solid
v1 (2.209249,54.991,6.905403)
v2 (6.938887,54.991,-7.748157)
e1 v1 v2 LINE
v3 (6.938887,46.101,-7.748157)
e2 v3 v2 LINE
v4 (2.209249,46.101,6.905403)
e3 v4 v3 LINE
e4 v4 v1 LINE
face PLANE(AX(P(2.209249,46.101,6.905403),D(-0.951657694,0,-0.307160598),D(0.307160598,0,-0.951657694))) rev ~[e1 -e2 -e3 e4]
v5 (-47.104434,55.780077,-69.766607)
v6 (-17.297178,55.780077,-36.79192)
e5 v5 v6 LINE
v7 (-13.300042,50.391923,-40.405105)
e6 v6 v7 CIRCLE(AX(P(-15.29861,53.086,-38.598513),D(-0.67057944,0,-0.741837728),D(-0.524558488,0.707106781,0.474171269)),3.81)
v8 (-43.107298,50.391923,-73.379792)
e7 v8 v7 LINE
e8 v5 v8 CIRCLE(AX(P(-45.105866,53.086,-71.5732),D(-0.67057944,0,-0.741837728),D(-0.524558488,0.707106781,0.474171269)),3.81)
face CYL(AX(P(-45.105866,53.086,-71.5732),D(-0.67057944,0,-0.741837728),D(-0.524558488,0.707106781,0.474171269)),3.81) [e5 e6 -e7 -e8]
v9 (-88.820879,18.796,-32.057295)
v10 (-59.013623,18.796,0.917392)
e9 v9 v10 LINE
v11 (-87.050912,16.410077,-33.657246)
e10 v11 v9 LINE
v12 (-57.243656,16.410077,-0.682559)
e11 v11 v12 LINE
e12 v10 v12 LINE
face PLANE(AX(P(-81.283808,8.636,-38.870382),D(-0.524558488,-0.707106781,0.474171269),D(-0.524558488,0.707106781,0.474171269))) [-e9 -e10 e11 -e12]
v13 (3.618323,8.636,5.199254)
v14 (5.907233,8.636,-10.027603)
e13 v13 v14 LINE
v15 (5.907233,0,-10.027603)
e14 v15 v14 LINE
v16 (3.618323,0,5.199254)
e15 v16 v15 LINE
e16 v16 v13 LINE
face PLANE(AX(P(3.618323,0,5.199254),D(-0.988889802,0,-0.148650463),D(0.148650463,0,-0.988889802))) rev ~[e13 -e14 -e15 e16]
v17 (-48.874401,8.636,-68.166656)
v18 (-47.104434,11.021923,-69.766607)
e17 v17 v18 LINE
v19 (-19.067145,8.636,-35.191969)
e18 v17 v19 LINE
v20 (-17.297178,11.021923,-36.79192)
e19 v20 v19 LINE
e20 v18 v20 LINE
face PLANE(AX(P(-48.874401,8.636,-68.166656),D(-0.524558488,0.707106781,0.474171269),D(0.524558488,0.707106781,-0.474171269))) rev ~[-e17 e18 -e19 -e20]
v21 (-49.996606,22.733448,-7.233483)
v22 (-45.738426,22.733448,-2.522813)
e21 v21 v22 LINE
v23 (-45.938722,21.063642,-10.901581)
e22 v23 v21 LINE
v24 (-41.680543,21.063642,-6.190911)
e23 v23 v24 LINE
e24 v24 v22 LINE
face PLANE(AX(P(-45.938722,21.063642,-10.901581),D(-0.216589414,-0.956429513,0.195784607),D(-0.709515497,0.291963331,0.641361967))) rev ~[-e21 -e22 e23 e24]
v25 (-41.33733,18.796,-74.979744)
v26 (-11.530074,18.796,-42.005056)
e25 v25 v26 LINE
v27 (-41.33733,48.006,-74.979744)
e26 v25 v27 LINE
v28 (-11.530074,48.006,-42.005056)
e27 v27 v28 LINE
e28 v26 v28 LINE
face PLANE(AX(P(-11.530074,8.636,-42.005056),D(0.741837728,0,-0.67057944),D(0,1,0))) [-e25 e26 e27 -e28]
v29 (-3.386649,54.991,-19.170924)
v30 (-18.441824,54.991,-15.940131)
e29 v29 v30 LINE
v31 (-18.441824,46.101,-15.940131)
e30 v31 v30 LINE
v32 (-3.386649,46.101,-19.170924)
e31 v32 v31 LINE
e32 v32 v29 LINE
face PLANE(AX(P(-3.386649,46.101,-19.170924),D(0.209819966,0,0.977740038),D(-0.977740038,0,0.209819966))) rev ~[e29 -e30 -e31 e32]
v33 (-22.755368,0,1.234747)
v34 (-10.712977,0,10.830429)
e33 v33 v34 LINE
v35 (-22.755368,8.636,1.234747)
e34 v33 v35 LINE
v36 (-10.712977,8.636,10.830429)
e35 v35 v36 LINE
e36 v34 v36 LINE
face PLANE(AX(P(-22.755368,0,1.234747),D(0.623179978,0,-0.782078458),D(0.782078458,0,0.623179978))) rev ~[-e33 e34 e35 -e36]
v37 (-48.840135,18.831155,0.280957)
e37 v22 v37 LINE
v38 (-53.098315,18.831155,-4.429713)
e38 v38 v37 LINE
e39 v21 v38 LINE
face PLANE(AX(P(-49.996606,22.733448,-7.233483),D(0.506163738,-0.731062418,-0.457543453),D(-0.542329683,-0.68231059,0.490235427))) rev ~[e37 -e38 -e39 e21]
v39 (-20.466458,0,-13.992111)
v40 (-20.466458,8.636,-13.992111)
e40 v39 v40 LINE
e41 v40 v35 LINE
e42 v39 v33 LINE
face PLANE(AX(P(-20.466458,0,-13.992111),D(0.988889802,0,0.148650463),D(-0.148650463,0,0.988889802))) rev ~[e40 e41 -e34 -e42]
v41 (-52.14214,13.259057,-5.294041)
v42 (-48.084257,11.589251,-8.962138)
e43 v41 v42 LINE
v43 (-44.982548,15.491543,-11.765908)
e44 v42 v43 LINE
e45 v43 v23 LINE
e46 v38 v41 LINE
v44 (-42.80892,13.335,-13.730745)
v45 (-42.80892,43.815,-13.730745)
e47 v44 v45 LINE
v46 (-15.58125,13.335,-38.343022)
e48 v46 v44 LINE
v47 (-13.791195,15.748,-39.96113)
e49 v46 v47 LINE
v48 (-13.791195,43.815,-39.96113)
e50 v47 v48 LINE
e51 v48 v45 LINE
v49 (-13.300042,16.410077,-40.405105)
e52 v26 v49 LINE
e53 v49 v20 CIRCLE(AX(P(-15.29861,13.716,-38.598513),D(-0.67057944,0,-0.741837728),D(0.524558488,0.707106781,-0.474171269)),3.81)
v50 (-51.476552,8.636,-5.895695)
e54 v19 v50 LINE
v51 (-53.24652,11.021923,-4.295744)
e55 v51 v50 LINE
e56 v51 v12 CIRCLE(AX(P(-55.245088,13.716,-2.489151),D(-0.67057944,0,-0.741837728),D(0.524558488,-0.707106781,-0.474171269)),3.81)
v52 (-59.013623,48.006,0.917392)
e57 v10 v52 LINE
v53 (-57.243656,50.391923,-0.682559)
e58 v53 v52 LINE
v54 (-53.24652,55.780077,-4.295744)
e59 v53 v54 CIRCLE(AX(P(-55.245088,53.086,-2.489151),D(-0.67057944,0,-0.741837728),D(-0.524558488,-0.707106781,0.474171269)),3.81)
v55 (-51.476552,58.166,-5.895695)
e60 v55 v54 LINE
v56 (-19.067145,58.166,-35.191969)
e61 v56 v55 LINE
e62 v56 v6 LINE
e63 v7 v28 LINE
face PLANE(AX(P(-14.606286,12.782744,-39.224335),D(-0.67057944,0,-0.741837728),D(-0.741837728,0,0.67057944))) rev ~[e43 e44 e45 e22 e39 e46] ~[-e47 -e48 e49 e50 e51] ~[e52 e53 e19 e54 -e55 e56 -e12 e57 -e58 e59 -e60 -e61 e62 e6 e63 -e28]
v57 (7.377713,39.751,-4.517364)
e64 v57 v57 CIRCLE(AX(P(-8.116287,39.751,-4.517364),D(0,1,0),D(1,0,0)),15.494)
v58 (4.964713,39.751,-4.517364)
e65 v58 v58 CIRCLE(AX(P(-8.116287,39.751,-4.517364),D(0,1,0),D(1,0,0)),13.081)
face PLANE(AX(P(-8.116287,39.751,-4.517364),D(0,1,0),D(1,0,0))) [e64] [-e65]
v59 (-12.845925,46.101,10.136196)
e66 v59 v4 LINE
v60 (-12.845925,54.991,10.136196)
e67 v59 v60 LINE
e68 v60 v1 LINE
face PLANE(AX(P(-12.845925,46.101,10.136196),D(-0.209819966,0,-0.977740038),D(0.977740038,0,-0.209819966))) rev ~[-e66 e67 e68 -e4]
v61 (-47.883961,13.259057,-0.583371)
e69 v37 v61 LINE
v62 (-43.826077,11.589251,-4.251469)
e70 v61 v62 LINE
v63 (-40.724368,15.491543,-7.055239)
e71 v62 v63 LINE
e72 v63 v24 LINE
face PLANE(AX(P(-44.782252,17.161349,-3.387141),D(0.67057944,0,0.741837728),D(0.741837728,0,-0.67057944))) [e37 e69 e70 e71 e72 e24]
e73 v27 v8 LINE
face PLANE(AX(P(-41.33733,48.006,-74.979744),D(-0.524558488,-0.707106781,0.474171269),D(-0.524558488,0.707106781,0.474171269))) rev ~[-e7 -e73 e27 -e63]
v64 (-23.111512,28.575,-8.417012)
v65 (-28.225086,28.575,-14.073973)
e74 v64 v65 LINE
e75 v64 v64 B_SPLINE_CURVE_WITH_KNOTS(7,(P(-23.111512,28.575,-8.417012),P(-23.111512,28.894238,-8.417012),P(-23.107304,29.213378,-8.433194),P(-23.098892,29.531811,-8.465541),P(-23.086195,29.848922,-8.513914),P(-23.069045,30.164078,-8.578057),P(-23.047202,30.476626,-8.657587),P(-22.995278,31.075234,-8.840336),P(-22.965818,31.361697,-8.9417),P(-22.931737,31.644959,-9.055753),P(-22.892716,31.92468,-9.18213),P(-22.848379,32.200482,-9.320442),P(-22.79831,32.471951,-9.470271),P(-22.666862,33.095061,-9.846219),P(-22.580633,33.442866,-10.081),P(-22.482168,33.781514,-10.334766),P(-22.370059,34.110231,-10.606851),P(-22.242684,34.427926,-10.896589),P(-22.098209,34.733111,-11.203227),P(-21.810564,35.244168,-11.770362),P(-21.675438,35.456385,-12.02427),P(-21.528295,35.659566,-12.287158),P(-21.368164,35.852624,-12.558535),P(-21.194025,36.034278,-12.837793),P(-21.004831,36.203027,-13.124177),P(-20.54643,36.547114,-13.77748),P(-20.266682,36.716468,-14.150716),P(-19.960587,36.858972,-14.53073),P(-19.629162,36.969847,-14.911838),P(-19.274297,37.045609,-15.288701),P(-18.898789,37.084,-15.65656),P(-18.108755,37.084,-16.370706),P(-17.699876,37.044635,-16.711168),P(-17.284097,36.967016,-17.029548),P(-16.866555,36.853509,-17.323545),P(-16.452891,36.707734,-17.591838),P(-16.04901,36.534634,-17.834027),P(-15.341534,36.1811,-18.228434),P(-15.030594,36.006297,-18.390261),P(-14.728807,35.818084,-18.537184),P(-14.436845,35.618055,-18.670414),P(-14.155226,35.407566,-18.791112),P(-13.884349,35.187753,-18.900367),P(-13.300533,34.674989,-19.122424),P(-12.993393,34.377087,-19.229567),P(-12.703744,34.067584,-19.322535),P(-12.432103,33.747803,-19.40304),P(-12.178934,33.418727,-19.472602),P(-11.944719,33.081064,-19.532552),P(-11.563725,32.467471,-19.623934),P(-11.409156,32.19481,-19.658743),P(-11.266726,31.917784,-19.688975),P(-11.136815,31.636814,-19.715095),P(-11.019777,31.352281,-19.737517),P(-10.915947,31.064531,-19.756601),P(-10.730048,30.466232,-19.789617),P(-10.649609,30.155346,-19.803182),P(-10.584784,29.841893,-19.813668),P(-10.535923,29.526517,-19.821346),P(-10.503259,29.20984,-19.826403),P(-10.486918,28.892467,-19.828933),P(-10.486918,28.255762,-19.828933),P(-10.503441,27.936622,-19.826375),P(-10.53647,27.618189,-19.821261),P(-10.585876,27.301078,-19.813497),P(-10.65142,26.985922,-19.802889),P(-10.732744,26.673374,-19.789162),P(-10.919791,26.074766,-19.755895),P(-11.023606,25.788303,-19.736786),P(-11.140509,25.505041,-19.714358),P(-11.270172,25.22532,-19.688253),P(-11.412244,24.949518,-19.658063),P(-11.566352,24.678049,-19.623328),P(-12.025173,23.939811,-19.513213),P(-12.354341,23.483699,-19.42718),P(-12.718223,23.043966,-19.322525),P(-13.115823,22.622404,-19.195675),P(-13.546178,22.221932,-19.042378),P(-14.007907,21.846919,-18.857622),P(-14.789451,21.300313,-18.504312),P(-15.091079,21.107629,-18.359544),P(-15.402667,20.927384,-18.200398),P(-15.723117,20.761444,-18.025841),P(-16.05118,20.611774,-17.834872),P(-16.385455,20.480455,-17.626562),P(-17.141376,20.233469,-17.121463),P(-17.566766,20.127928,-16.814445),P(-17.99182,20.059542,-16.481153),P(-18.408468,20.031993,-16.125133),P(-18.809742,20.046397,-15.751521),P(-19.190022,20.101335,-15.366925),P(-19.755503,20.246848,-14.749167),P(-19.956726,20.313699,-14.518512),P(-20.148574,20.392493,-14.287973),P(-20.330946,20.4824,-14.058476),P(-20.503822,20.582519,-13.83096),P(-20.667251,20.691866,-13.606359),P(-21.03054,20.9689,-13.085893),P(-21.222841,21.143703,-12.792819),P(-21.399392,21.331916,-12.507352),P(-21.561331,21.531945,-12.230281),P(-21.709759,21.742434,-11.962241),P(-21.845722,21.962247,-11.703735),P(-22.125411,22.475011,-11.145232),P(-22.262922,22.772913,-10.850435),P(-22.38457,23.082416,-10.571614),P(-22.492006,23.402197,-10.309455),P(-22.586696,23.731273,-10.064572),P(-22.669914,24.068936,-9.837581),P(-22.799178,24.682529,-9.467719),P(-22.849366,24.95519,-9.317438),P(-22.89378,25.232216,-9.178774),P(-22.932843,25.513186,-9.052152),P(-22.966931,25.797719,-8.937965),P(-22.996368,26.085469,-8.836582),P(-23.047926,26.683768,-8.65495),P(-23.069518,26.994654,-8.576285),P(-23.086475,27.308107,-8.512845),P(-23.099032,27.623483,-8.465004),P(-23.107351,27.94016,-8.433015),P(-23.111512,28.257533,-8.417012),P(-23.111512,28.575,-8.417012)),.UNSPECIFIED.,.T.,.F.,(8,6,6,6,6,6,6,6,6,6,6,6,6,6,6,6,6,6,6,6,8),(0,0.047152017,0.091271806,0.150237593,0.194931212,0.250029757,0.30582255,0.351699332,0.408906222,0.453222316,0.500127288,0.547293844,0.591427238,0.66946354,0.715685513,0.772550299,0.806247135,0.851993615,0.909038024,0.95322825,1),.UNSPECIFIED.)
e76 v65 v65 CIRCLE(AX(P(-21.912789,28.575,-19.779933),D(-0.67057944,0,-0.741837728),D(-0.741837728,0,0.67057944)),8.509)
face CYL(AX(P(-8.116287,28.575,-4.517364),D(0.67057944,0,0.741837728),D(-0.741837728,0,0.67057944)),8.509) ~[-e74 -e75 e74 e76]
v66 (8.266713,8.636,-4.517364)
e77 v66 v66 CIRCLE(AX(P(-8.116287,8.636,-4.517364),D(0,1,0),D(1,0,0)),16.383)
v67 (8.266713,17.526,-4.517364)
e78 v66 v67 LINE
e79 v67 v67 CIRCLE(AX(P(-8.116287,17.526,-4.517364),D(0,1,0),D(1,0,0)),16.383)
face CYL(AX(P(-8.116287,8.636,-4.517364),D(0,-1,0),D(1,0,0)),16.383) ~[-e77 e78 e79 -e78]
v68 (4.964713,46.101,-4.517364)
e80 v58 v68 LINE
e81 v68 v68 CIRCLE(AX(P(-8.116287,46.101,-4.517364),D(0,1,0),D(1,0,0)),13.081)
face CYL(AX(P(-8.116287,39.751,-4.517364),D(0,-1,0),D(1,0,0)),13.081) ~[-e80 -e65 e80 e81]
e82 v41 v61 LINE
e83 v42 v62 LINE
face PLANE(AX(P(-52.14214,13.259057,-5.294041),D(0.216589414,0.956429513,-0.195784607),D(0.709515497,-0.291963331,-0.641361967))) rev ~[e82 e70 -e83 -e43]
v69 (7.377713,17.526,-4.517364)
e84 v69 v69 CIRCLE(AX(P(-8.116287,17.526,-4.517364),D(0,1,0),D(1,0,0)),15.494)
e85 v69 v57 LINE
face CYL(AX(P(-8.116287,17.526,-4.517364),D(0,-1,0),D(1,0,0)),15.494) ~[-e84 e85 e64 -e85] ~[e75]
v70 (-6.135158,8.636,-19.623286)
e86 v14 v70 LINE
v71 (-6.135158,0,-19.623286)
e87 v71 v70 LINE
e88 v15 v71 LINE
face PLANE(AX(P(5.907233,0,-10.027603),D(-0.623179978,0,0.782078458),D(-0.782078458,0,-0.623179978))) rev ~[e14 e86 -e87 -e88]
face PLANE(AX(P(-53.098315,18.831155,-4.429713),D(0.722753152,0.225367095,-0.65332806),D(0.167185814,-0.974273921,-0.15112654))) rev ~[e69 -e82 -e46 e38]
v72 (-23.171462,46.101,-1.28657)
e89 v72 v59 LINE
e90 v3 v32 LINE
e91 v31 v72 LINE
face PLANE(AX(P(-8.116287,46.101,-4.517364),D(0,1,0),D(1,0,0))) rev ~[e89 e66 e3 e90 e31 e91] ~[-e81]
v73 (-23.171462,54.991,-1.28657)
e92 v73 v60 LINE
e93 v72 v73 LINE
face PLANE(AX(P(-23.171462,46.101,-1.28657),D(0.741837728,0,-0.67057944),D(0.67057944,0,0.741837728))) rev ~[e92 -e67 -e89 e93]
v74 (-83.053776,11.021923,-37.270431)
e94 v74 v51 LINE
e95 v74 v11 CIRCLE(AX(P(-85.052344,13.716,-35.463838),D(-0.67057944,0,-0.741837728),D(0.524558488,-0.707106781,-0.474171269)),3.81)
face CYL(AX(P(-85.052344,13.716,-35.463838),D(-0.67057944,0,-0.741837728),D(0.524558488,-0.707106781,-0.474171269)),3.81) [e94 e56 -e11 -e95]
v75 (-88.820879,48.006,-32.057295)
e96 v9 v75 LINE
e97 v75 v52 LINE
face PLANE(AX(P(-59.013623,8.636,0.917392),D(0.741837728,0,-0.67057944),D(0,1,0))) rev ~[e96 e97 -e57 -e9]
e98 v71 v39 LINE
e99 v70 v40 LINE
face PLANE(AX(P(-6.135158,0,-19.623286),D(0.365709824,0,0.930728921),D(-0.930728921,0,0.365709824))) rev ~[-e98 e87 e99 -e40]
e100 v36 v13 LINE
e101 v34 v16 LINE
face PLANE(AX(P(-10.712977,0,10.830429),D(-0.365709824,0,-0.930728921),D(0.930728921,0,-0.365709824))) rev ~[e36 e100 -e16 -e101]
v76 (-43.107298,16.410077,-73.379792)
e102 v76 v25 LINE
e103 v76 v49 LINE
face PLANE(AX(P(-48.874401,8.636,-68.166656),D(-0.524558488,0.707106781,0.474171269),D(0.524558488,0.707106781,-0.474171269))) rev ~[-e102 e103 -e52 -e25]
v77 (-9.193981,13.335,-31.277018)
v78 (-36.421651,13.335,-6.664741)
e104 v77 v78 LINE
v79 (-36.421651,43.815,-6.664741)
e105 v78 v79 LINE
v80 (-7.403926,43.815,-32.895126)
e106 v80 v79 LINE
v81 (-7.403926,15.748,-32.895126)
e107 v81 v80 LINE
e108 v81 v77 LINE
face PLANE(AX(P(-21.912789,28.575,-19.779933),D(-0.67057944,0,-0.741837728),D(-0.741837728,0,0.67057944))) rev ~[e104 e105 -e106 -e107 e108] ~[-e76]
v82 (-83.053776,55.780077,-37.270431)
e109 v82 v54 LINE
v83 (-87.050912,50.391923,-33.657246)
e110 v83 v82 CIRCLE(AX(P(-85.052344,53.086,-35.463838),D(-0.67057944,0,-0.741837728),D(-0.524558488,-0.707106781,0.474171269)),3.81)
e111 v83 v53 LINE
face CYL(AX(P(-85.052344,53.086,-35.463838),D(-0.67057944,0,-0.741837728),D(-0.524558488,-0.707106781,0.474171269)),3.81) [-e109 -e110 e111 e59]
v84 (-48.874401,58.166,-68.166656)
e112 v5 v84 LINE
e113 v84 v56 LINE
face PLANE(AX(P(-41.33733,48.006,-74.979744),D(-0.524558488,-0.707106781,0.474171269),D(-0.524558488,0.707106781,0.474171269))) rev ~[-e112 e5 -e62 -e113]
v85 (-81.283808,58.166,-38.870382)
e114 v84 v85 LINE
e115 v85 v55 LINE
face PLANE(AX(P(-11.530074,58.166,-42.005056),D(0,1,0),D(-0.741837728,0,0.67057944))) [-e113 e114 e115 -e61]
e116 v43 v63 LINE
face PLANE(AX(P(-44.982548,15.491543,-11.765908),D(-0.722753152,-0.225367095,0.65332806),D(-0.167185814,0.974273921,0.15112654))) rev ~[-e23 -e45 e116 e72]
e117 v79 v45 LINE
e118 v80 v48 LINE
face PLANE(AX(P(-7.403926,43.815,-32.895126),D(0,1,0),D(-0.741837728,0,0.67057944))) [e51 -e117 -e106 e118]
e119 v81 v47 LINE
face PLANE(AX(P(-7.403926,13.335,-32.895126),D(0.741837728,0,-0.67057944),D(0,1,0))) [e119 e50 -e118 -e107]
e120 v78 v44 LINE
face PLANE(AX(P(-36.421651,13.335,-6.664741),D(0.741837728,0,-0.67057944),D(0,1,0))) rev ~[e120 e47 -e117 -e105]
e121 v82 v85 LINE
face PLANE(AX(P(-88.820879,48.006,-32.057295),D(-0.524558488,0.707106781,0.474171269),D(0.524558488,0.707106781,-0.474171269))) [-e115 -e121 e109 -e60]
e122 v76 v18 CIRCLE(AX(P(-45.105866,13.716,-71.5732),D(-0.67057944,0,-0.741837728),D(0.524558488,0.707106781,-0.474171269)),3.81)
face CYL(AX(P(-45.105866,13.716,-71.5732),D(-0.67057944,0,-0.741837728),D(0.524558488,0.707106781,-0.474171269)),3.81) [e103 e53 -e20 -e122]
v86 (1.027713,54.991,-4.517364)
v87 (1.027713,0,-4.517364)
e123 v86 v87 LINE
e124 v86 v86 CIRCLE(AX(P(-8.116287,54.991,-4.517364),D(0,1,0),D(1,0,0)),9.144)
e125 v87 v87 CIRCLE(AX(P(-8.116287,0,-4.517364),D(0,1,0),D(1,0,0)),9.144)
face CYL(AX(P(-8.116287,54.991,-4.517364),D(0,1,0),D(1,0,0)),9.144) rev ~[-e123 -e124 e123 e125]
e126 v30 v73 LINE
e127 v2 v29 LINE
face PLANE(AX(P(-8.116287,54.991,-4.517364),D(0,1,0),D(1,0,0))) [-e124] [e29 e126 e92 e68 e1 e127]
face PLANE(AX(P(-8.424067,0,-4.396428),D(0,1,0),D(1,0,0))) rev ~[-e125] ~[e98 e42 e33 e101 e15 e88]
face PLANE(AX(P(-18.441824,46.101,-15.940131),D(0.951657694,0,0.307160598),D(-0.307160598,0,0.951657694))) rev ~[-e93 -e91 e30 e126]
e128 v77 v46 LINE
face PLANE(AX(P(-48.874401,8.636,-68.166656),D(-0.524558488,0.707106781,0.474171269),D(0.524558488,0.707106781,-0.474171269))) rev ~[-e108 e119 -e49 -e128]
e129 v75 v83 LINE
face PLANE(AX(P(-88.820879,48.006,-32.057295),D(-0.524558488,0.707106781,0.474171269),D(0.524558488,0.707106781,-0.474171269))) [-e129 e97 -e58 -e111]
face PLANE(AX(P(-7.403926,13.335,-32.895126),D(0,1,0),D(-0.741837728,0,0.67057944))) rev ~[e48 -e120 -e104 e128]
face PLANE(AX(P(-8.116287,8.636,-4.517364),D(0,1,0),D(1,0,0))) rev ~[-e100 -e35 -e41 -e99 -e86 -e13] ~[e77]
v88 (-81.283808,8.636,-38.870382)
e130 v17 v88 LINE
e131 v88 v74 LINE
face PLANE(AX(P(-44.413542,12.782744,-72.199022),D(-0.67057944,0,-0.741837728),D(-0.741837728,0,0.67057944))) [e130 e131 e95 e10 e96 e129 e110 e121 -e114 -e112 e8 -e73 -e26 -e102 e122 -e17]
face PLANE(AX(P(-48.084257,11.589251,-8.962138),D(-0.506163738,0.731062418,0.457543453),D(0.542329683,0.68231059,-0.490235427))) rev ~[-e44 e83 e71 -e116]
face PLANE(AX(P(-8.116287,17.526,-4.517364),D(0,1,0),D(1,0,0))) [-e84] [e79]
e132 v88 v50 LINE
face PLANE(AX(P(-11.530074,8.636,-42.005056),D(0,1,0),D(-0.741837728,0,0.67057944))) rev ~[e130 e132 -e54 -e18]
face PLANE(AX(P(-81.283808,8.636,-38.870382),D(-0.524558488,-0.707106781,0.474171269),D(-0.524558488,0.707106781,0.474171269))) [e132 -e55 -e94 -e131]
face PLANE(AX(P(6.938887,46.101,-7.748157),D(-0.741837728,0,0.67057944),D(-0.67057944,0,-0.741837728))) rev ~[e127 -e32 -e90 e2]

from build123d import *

# Parameters (mm, degrees)
BOSS_EXTRUDE1_DEPTH  = 8.636
SKETCH2_R            = 16.383
BOSS_EXTRUDE2_DEPTH  = 8.89
SKETCH5_R            = 15.494
BOSS_EXTRUDE3_DEPTH  = 22.225
SKETCH6_R            = 13.081
BOSS_EXTRUDE4_DEPTH  = 6.35
BOSS_EXTRUDE5_DEPTH  = 8.89
SKETCH19_R           = 8.509
BOSS_EXTRUDE9_DEPTH  = 20.574
SKETCH26_R           = 9.144
CUT_EXTRUDE1_DEPTH   = 55.991
SKETCH28_W           = 39.116
SKETCH28_H           = 30.48
BOSS_EXTRUDE11_DEPTH = 9.525
SKETCH29_W           = 64.008
SKETCH29_H           = 49.53
BOSS_EXTRUDE12_DEPTH = 44.45
BOSS_EXTRUDE13_DEPTH = 6.35
CUT_EXTRUDE2_REACH   = 99.689
BOSS_EXTRUDE14_DEPTH = 44.45


with BuildPart() as part:
    # Sketch1 → Boss-Extrude1 (new body)
    with BuildSketch(Plane(origin=(0, 0, 0), x_dir=(1, 0, 0), z_dir=(0, 1, 0))):
        Polygon((3.618323339, -5.199254385), (5.90723301, 10.02760322), (-6.13515766, 19.623285945), (-20.466458001, 13.992111064), (-22.755367672, -1.234746541), (-10.712977002, -10.830429265), align=None)
    extrude(amount=BOSS_EXTRUDE1_DEPTH)

    # Sketch2 → Boss-Extrude2 (add)
    with BuildSketch(Plane(origin=(0, 8.636, 0), x_dir=(1, 0, 0), z_dir=(0, 1, 0))):
        with Locations((-8.116287221, 4.517363885)):
            Circle(SKETCH2_R)
    extrude(amount=BOSS_EXTRUDE2_DEPTH)

    # Sketch5 → Boss-Extrude3 (add)
    with BuildSketch(Plane(origin=(0, 17.526, 0), x_dir=(1, 0, 0), z_dir=(0, 1, 0))):
        with Locations((-8.116287221, 4.517363885)):
            Circle(SKETCH5_R)
    extrude(amount=BOSS_EXTRUDE3_DEPTH)

    # Sketch6 → Boss-Extrude4 (add)
    with BuildSketch(Plane(origin=(0, 39.751, 0), x_dir=(1, 0, 0), z_dir=(0, 1, 0))):
        with Locations((-8.116287221, 4.517363885)):
            Circle(SKETCH6_R)
    extrude(amount=BOSS_EXTRUDE4_DEPTH)

    # Sketch8 → Boss-Extrude5 (add)
    with BuildSketch(Plane(origin=(0, 46.101, 0), x_dir=(1, 0, 0), z_dir=(0, 1, 0))):
        Polygon((-18.441823617, 15.940130543), (-23.171461527, 1.286570387), (-12.845925131, -10.136196271), (2.209249175, -6.905402773), (6.938887085, 7.748157383), (-3.386649312, 19.170924041), align=None)
    extrude(amount=BOSS_EXTRUDE5_DEPTH)

    # Sketch19 → Boss-Extrude9 (add)
    with BuildSketch(Plane(origin=(-5.896918877, 0, -6.523547615), x_dir=(-0.741837728, 0, 0.67057944), z_dir=(-0.67057944, 0, -0.741837728))):
        with Locations((2.991716732, 28.575)):
            Circle(SKETCH19_R)
    extrude(amount=BOSS_EXTRUDE9_DEPTH)

    # Sketch26 → Cut-Extrude1 (cut, through all)
    with BuildSketch(Plane(origin=(0, 54.991, 0), x_dir=(1, 0, 0), z_dir=(0, 1, 0))):
        with Locations((-8.116287221, 4.517363885)):
            Circle(SKETCH26_R)
    extrude(amount=-CUT_EXTRUDE1_DEPTH, mode=Mode.SUBTRACT)

    # Sketch28 → Boss-Extrude11 (add)
    with BuildSketch(Plane(origin=(-19.693420267, 0, -21.786117038), x_dir=(-0.741837728, 0, 0.67057944), z_dir=(-0.67057944, 0, -0.741837728))):
        with Locations((2.991716732, 28.575)):
            Rectangle(SKETCH28_W, SKETCH28_H)
    extrude(amount=BOSS_EXTRUDE11_DEPTH)

    # Sketch29 → Boss-Extrude12 (add)
    with BuildSketch(Plane(origin=(-26.080689429, 0, -28.852121401), x_dir=(-0.741837728, 0, 0.67057944), z_dir=(-0.67057944, 0, -0.741837728))):
        with Locations((12.389716732, 33.401)):
            Rectangle(SKETCH29_W, SKETCH29_H)
    extrude(amount=BOSS_EXTRUDE12_DEPTH)

    # Sketch31 → Boss-Extrude13 (add)
    with BuildSketch(Plane(origin=(-26.080689429, 0, -28.852121401), x_dir=(0.741837728, 0, -0.67057944), z_dir=(0.67057944, 0, 0.741837728))):
        Polygon((-29.660890196, 11.58925085), (-25.479774792, 15.49154325), (-26.768701441, 21.063641607), (-32.238743495, 22.733447563), (-36.419858899, 18.831155162), (-35.130932249, 13.259056806), align=None)
    extrude(amount=BOSS_EXTRUDE13_DEPTH)

    # Sketch36 → Cut-Extrude2 (cut, up to next)
    with BuildSketch(Plane(origin=(-55.887945518, 0, -61.826808426), x_dir=(-0.741837728, 0, 0.67057944), z_dir=(-0.67057944, 0, -0.741837728)), mode=Mode.PRIVATE) as cut_extrude2_sk1:
        Polygon((34.233716732, 8.636), (44.393716732, 18.796), (44.393716732, 8.636), align=None)
    cut_extrude2_tool1 = extrude(cut_extrude2_sk1.sketch, amount=-CUT_EXTRUDE2_REACH, mode=Mode.PRIVATE) & part.part
    add(cut_extrude2_tool1.solids().sort_by_distance((-86.308522, 12.022667, -34.328324))[0], mode=Mode.SUBTRACT)
    # Sketch36 → Cut-Extrude2 (cut, up to next)
    with BuildSketch(Plane(origin=(-55.887945518, 0, -61.826808426), x_dir=(-0.741837728, 0, 0.67057944), z_dir=(-0.67057944, 0, -0.741837728)), mode=Mode.PRIVATE) as cut_extrude2_sk2:
        Polygon((-9.454283268, 8.636), (-19.614283268, 18.796), (-19.614283268, 8.636), align=None)
    cut_extrude2_tool2 = extrude(cut_extrude2_sk2.sketch, amount=-CUT_EXTRUDE2_REACH, mode=Mode.PRIVATE) & part.part
    add(cut_extrude2_tool2.solids().sort_by_distance((-43.849687, 12.022667, -72.708714))[0], mode=Mode.SUBTRACT)
    # Sketch36 → Cut-Extrude2 (cut, up to next)
    with BuildSketch(Plane(origin=(-55.887945518, 0, -61.826808426), x_dir=(-0.741837728, 0, 0.67057944), z_dir=(-0.67057944, 0, -0.741837728)), mode=Mode.PRIVATE) as cut_extrude2_sk3:
        Polygon((-19.614283268, 48.006), (-9.454283268, 58.166), (-19.614283268, 58.166), align=None)
    cut_extrude2_tool3 = extrude(cut_extrude2_sk3.sketch, amount=-CUT_EXTRUDE2_REACH, mode=Mode.PRIVATE) & part.part
    add(cut_extrude2_tool3.solids().sort_by_distance((-43.849687, 54.779333, -72.708714))[0], mode=Mode.SUBTRACT)
    # Sketch36 → Cut-Extrude2 (cut, up to next)
    with BuildSketch(Plane(origin=(-55.887945518, 0, -61.826808426), x_dir=(-0.741837728, 0, 0.67057944), z_dir=(-0.67057944, 0, -0.741837728)), mode=Mode.PRIVATE) as cut_extrude2_sk4:
        Polygon((44.393716732, 48.006), (34.233716732, 58.166), (44.393716732, 58.166), align=None)
    cut_extrude2_tool4 = extrude(cut_extrude2_sk4.sketch, amount=-CUT_EXTRUDE2_REACH, mode=Mode.PRIVATE) & part.part
    add(cut_extrude2_tool4.solids().sort_by_distance((-86.308522, 54.779333, -34.328324))[0], mode=Mode.SUBTRACT)

    # Sketch37 → Boss-Extrude14 (add)
    with BuildSketch(Plane(origin=(-55.887945518, 0, -61.826808426), x_dir=(-0.741837728, 0, 0.67057944), z_dir=(-0.67057944, 0, -0.741837728))):
        with BuildLine():
            Line((42.007793569, 16.410076836), (36.619639896, 11.021923164))
            ThreePointArc((36.619639896, 11.021923164), (42.007793569, 11.021923164), (42.007793569, 16.410076836))
        make_face()
        with BuildLine():
            Line((-11.840206431, 11.021923164), (-17.228360104, 16.410076836))
            ThreePointArc((-17.228360104, 16.410076836), (-17.228360104, 11.021923164), (-11.840206431, 11.021923164))
        make_face()
        with BuildLine():
            Line((-17.228360104, 50.391923164), (-11.840206431, 55.780076836))
            ThreePointArc((-11.840206431, 55.780076836), (-17.228360104, 55.780076836), (-17.228360104, 50.391923164))
        make_face()
        with BuildLine():
            Line((36.619639896, 55.780076836), (42.007793569, 50.391923164))
            ThreePointArc((42.007793569, 50.391923164), (42.007793569, 55.780076836), (36.619639896, 55.780076836))
        make_face()
    extrude(amount=-BOSS_EXTRUDE14_DEPTH)


solid = part.part
